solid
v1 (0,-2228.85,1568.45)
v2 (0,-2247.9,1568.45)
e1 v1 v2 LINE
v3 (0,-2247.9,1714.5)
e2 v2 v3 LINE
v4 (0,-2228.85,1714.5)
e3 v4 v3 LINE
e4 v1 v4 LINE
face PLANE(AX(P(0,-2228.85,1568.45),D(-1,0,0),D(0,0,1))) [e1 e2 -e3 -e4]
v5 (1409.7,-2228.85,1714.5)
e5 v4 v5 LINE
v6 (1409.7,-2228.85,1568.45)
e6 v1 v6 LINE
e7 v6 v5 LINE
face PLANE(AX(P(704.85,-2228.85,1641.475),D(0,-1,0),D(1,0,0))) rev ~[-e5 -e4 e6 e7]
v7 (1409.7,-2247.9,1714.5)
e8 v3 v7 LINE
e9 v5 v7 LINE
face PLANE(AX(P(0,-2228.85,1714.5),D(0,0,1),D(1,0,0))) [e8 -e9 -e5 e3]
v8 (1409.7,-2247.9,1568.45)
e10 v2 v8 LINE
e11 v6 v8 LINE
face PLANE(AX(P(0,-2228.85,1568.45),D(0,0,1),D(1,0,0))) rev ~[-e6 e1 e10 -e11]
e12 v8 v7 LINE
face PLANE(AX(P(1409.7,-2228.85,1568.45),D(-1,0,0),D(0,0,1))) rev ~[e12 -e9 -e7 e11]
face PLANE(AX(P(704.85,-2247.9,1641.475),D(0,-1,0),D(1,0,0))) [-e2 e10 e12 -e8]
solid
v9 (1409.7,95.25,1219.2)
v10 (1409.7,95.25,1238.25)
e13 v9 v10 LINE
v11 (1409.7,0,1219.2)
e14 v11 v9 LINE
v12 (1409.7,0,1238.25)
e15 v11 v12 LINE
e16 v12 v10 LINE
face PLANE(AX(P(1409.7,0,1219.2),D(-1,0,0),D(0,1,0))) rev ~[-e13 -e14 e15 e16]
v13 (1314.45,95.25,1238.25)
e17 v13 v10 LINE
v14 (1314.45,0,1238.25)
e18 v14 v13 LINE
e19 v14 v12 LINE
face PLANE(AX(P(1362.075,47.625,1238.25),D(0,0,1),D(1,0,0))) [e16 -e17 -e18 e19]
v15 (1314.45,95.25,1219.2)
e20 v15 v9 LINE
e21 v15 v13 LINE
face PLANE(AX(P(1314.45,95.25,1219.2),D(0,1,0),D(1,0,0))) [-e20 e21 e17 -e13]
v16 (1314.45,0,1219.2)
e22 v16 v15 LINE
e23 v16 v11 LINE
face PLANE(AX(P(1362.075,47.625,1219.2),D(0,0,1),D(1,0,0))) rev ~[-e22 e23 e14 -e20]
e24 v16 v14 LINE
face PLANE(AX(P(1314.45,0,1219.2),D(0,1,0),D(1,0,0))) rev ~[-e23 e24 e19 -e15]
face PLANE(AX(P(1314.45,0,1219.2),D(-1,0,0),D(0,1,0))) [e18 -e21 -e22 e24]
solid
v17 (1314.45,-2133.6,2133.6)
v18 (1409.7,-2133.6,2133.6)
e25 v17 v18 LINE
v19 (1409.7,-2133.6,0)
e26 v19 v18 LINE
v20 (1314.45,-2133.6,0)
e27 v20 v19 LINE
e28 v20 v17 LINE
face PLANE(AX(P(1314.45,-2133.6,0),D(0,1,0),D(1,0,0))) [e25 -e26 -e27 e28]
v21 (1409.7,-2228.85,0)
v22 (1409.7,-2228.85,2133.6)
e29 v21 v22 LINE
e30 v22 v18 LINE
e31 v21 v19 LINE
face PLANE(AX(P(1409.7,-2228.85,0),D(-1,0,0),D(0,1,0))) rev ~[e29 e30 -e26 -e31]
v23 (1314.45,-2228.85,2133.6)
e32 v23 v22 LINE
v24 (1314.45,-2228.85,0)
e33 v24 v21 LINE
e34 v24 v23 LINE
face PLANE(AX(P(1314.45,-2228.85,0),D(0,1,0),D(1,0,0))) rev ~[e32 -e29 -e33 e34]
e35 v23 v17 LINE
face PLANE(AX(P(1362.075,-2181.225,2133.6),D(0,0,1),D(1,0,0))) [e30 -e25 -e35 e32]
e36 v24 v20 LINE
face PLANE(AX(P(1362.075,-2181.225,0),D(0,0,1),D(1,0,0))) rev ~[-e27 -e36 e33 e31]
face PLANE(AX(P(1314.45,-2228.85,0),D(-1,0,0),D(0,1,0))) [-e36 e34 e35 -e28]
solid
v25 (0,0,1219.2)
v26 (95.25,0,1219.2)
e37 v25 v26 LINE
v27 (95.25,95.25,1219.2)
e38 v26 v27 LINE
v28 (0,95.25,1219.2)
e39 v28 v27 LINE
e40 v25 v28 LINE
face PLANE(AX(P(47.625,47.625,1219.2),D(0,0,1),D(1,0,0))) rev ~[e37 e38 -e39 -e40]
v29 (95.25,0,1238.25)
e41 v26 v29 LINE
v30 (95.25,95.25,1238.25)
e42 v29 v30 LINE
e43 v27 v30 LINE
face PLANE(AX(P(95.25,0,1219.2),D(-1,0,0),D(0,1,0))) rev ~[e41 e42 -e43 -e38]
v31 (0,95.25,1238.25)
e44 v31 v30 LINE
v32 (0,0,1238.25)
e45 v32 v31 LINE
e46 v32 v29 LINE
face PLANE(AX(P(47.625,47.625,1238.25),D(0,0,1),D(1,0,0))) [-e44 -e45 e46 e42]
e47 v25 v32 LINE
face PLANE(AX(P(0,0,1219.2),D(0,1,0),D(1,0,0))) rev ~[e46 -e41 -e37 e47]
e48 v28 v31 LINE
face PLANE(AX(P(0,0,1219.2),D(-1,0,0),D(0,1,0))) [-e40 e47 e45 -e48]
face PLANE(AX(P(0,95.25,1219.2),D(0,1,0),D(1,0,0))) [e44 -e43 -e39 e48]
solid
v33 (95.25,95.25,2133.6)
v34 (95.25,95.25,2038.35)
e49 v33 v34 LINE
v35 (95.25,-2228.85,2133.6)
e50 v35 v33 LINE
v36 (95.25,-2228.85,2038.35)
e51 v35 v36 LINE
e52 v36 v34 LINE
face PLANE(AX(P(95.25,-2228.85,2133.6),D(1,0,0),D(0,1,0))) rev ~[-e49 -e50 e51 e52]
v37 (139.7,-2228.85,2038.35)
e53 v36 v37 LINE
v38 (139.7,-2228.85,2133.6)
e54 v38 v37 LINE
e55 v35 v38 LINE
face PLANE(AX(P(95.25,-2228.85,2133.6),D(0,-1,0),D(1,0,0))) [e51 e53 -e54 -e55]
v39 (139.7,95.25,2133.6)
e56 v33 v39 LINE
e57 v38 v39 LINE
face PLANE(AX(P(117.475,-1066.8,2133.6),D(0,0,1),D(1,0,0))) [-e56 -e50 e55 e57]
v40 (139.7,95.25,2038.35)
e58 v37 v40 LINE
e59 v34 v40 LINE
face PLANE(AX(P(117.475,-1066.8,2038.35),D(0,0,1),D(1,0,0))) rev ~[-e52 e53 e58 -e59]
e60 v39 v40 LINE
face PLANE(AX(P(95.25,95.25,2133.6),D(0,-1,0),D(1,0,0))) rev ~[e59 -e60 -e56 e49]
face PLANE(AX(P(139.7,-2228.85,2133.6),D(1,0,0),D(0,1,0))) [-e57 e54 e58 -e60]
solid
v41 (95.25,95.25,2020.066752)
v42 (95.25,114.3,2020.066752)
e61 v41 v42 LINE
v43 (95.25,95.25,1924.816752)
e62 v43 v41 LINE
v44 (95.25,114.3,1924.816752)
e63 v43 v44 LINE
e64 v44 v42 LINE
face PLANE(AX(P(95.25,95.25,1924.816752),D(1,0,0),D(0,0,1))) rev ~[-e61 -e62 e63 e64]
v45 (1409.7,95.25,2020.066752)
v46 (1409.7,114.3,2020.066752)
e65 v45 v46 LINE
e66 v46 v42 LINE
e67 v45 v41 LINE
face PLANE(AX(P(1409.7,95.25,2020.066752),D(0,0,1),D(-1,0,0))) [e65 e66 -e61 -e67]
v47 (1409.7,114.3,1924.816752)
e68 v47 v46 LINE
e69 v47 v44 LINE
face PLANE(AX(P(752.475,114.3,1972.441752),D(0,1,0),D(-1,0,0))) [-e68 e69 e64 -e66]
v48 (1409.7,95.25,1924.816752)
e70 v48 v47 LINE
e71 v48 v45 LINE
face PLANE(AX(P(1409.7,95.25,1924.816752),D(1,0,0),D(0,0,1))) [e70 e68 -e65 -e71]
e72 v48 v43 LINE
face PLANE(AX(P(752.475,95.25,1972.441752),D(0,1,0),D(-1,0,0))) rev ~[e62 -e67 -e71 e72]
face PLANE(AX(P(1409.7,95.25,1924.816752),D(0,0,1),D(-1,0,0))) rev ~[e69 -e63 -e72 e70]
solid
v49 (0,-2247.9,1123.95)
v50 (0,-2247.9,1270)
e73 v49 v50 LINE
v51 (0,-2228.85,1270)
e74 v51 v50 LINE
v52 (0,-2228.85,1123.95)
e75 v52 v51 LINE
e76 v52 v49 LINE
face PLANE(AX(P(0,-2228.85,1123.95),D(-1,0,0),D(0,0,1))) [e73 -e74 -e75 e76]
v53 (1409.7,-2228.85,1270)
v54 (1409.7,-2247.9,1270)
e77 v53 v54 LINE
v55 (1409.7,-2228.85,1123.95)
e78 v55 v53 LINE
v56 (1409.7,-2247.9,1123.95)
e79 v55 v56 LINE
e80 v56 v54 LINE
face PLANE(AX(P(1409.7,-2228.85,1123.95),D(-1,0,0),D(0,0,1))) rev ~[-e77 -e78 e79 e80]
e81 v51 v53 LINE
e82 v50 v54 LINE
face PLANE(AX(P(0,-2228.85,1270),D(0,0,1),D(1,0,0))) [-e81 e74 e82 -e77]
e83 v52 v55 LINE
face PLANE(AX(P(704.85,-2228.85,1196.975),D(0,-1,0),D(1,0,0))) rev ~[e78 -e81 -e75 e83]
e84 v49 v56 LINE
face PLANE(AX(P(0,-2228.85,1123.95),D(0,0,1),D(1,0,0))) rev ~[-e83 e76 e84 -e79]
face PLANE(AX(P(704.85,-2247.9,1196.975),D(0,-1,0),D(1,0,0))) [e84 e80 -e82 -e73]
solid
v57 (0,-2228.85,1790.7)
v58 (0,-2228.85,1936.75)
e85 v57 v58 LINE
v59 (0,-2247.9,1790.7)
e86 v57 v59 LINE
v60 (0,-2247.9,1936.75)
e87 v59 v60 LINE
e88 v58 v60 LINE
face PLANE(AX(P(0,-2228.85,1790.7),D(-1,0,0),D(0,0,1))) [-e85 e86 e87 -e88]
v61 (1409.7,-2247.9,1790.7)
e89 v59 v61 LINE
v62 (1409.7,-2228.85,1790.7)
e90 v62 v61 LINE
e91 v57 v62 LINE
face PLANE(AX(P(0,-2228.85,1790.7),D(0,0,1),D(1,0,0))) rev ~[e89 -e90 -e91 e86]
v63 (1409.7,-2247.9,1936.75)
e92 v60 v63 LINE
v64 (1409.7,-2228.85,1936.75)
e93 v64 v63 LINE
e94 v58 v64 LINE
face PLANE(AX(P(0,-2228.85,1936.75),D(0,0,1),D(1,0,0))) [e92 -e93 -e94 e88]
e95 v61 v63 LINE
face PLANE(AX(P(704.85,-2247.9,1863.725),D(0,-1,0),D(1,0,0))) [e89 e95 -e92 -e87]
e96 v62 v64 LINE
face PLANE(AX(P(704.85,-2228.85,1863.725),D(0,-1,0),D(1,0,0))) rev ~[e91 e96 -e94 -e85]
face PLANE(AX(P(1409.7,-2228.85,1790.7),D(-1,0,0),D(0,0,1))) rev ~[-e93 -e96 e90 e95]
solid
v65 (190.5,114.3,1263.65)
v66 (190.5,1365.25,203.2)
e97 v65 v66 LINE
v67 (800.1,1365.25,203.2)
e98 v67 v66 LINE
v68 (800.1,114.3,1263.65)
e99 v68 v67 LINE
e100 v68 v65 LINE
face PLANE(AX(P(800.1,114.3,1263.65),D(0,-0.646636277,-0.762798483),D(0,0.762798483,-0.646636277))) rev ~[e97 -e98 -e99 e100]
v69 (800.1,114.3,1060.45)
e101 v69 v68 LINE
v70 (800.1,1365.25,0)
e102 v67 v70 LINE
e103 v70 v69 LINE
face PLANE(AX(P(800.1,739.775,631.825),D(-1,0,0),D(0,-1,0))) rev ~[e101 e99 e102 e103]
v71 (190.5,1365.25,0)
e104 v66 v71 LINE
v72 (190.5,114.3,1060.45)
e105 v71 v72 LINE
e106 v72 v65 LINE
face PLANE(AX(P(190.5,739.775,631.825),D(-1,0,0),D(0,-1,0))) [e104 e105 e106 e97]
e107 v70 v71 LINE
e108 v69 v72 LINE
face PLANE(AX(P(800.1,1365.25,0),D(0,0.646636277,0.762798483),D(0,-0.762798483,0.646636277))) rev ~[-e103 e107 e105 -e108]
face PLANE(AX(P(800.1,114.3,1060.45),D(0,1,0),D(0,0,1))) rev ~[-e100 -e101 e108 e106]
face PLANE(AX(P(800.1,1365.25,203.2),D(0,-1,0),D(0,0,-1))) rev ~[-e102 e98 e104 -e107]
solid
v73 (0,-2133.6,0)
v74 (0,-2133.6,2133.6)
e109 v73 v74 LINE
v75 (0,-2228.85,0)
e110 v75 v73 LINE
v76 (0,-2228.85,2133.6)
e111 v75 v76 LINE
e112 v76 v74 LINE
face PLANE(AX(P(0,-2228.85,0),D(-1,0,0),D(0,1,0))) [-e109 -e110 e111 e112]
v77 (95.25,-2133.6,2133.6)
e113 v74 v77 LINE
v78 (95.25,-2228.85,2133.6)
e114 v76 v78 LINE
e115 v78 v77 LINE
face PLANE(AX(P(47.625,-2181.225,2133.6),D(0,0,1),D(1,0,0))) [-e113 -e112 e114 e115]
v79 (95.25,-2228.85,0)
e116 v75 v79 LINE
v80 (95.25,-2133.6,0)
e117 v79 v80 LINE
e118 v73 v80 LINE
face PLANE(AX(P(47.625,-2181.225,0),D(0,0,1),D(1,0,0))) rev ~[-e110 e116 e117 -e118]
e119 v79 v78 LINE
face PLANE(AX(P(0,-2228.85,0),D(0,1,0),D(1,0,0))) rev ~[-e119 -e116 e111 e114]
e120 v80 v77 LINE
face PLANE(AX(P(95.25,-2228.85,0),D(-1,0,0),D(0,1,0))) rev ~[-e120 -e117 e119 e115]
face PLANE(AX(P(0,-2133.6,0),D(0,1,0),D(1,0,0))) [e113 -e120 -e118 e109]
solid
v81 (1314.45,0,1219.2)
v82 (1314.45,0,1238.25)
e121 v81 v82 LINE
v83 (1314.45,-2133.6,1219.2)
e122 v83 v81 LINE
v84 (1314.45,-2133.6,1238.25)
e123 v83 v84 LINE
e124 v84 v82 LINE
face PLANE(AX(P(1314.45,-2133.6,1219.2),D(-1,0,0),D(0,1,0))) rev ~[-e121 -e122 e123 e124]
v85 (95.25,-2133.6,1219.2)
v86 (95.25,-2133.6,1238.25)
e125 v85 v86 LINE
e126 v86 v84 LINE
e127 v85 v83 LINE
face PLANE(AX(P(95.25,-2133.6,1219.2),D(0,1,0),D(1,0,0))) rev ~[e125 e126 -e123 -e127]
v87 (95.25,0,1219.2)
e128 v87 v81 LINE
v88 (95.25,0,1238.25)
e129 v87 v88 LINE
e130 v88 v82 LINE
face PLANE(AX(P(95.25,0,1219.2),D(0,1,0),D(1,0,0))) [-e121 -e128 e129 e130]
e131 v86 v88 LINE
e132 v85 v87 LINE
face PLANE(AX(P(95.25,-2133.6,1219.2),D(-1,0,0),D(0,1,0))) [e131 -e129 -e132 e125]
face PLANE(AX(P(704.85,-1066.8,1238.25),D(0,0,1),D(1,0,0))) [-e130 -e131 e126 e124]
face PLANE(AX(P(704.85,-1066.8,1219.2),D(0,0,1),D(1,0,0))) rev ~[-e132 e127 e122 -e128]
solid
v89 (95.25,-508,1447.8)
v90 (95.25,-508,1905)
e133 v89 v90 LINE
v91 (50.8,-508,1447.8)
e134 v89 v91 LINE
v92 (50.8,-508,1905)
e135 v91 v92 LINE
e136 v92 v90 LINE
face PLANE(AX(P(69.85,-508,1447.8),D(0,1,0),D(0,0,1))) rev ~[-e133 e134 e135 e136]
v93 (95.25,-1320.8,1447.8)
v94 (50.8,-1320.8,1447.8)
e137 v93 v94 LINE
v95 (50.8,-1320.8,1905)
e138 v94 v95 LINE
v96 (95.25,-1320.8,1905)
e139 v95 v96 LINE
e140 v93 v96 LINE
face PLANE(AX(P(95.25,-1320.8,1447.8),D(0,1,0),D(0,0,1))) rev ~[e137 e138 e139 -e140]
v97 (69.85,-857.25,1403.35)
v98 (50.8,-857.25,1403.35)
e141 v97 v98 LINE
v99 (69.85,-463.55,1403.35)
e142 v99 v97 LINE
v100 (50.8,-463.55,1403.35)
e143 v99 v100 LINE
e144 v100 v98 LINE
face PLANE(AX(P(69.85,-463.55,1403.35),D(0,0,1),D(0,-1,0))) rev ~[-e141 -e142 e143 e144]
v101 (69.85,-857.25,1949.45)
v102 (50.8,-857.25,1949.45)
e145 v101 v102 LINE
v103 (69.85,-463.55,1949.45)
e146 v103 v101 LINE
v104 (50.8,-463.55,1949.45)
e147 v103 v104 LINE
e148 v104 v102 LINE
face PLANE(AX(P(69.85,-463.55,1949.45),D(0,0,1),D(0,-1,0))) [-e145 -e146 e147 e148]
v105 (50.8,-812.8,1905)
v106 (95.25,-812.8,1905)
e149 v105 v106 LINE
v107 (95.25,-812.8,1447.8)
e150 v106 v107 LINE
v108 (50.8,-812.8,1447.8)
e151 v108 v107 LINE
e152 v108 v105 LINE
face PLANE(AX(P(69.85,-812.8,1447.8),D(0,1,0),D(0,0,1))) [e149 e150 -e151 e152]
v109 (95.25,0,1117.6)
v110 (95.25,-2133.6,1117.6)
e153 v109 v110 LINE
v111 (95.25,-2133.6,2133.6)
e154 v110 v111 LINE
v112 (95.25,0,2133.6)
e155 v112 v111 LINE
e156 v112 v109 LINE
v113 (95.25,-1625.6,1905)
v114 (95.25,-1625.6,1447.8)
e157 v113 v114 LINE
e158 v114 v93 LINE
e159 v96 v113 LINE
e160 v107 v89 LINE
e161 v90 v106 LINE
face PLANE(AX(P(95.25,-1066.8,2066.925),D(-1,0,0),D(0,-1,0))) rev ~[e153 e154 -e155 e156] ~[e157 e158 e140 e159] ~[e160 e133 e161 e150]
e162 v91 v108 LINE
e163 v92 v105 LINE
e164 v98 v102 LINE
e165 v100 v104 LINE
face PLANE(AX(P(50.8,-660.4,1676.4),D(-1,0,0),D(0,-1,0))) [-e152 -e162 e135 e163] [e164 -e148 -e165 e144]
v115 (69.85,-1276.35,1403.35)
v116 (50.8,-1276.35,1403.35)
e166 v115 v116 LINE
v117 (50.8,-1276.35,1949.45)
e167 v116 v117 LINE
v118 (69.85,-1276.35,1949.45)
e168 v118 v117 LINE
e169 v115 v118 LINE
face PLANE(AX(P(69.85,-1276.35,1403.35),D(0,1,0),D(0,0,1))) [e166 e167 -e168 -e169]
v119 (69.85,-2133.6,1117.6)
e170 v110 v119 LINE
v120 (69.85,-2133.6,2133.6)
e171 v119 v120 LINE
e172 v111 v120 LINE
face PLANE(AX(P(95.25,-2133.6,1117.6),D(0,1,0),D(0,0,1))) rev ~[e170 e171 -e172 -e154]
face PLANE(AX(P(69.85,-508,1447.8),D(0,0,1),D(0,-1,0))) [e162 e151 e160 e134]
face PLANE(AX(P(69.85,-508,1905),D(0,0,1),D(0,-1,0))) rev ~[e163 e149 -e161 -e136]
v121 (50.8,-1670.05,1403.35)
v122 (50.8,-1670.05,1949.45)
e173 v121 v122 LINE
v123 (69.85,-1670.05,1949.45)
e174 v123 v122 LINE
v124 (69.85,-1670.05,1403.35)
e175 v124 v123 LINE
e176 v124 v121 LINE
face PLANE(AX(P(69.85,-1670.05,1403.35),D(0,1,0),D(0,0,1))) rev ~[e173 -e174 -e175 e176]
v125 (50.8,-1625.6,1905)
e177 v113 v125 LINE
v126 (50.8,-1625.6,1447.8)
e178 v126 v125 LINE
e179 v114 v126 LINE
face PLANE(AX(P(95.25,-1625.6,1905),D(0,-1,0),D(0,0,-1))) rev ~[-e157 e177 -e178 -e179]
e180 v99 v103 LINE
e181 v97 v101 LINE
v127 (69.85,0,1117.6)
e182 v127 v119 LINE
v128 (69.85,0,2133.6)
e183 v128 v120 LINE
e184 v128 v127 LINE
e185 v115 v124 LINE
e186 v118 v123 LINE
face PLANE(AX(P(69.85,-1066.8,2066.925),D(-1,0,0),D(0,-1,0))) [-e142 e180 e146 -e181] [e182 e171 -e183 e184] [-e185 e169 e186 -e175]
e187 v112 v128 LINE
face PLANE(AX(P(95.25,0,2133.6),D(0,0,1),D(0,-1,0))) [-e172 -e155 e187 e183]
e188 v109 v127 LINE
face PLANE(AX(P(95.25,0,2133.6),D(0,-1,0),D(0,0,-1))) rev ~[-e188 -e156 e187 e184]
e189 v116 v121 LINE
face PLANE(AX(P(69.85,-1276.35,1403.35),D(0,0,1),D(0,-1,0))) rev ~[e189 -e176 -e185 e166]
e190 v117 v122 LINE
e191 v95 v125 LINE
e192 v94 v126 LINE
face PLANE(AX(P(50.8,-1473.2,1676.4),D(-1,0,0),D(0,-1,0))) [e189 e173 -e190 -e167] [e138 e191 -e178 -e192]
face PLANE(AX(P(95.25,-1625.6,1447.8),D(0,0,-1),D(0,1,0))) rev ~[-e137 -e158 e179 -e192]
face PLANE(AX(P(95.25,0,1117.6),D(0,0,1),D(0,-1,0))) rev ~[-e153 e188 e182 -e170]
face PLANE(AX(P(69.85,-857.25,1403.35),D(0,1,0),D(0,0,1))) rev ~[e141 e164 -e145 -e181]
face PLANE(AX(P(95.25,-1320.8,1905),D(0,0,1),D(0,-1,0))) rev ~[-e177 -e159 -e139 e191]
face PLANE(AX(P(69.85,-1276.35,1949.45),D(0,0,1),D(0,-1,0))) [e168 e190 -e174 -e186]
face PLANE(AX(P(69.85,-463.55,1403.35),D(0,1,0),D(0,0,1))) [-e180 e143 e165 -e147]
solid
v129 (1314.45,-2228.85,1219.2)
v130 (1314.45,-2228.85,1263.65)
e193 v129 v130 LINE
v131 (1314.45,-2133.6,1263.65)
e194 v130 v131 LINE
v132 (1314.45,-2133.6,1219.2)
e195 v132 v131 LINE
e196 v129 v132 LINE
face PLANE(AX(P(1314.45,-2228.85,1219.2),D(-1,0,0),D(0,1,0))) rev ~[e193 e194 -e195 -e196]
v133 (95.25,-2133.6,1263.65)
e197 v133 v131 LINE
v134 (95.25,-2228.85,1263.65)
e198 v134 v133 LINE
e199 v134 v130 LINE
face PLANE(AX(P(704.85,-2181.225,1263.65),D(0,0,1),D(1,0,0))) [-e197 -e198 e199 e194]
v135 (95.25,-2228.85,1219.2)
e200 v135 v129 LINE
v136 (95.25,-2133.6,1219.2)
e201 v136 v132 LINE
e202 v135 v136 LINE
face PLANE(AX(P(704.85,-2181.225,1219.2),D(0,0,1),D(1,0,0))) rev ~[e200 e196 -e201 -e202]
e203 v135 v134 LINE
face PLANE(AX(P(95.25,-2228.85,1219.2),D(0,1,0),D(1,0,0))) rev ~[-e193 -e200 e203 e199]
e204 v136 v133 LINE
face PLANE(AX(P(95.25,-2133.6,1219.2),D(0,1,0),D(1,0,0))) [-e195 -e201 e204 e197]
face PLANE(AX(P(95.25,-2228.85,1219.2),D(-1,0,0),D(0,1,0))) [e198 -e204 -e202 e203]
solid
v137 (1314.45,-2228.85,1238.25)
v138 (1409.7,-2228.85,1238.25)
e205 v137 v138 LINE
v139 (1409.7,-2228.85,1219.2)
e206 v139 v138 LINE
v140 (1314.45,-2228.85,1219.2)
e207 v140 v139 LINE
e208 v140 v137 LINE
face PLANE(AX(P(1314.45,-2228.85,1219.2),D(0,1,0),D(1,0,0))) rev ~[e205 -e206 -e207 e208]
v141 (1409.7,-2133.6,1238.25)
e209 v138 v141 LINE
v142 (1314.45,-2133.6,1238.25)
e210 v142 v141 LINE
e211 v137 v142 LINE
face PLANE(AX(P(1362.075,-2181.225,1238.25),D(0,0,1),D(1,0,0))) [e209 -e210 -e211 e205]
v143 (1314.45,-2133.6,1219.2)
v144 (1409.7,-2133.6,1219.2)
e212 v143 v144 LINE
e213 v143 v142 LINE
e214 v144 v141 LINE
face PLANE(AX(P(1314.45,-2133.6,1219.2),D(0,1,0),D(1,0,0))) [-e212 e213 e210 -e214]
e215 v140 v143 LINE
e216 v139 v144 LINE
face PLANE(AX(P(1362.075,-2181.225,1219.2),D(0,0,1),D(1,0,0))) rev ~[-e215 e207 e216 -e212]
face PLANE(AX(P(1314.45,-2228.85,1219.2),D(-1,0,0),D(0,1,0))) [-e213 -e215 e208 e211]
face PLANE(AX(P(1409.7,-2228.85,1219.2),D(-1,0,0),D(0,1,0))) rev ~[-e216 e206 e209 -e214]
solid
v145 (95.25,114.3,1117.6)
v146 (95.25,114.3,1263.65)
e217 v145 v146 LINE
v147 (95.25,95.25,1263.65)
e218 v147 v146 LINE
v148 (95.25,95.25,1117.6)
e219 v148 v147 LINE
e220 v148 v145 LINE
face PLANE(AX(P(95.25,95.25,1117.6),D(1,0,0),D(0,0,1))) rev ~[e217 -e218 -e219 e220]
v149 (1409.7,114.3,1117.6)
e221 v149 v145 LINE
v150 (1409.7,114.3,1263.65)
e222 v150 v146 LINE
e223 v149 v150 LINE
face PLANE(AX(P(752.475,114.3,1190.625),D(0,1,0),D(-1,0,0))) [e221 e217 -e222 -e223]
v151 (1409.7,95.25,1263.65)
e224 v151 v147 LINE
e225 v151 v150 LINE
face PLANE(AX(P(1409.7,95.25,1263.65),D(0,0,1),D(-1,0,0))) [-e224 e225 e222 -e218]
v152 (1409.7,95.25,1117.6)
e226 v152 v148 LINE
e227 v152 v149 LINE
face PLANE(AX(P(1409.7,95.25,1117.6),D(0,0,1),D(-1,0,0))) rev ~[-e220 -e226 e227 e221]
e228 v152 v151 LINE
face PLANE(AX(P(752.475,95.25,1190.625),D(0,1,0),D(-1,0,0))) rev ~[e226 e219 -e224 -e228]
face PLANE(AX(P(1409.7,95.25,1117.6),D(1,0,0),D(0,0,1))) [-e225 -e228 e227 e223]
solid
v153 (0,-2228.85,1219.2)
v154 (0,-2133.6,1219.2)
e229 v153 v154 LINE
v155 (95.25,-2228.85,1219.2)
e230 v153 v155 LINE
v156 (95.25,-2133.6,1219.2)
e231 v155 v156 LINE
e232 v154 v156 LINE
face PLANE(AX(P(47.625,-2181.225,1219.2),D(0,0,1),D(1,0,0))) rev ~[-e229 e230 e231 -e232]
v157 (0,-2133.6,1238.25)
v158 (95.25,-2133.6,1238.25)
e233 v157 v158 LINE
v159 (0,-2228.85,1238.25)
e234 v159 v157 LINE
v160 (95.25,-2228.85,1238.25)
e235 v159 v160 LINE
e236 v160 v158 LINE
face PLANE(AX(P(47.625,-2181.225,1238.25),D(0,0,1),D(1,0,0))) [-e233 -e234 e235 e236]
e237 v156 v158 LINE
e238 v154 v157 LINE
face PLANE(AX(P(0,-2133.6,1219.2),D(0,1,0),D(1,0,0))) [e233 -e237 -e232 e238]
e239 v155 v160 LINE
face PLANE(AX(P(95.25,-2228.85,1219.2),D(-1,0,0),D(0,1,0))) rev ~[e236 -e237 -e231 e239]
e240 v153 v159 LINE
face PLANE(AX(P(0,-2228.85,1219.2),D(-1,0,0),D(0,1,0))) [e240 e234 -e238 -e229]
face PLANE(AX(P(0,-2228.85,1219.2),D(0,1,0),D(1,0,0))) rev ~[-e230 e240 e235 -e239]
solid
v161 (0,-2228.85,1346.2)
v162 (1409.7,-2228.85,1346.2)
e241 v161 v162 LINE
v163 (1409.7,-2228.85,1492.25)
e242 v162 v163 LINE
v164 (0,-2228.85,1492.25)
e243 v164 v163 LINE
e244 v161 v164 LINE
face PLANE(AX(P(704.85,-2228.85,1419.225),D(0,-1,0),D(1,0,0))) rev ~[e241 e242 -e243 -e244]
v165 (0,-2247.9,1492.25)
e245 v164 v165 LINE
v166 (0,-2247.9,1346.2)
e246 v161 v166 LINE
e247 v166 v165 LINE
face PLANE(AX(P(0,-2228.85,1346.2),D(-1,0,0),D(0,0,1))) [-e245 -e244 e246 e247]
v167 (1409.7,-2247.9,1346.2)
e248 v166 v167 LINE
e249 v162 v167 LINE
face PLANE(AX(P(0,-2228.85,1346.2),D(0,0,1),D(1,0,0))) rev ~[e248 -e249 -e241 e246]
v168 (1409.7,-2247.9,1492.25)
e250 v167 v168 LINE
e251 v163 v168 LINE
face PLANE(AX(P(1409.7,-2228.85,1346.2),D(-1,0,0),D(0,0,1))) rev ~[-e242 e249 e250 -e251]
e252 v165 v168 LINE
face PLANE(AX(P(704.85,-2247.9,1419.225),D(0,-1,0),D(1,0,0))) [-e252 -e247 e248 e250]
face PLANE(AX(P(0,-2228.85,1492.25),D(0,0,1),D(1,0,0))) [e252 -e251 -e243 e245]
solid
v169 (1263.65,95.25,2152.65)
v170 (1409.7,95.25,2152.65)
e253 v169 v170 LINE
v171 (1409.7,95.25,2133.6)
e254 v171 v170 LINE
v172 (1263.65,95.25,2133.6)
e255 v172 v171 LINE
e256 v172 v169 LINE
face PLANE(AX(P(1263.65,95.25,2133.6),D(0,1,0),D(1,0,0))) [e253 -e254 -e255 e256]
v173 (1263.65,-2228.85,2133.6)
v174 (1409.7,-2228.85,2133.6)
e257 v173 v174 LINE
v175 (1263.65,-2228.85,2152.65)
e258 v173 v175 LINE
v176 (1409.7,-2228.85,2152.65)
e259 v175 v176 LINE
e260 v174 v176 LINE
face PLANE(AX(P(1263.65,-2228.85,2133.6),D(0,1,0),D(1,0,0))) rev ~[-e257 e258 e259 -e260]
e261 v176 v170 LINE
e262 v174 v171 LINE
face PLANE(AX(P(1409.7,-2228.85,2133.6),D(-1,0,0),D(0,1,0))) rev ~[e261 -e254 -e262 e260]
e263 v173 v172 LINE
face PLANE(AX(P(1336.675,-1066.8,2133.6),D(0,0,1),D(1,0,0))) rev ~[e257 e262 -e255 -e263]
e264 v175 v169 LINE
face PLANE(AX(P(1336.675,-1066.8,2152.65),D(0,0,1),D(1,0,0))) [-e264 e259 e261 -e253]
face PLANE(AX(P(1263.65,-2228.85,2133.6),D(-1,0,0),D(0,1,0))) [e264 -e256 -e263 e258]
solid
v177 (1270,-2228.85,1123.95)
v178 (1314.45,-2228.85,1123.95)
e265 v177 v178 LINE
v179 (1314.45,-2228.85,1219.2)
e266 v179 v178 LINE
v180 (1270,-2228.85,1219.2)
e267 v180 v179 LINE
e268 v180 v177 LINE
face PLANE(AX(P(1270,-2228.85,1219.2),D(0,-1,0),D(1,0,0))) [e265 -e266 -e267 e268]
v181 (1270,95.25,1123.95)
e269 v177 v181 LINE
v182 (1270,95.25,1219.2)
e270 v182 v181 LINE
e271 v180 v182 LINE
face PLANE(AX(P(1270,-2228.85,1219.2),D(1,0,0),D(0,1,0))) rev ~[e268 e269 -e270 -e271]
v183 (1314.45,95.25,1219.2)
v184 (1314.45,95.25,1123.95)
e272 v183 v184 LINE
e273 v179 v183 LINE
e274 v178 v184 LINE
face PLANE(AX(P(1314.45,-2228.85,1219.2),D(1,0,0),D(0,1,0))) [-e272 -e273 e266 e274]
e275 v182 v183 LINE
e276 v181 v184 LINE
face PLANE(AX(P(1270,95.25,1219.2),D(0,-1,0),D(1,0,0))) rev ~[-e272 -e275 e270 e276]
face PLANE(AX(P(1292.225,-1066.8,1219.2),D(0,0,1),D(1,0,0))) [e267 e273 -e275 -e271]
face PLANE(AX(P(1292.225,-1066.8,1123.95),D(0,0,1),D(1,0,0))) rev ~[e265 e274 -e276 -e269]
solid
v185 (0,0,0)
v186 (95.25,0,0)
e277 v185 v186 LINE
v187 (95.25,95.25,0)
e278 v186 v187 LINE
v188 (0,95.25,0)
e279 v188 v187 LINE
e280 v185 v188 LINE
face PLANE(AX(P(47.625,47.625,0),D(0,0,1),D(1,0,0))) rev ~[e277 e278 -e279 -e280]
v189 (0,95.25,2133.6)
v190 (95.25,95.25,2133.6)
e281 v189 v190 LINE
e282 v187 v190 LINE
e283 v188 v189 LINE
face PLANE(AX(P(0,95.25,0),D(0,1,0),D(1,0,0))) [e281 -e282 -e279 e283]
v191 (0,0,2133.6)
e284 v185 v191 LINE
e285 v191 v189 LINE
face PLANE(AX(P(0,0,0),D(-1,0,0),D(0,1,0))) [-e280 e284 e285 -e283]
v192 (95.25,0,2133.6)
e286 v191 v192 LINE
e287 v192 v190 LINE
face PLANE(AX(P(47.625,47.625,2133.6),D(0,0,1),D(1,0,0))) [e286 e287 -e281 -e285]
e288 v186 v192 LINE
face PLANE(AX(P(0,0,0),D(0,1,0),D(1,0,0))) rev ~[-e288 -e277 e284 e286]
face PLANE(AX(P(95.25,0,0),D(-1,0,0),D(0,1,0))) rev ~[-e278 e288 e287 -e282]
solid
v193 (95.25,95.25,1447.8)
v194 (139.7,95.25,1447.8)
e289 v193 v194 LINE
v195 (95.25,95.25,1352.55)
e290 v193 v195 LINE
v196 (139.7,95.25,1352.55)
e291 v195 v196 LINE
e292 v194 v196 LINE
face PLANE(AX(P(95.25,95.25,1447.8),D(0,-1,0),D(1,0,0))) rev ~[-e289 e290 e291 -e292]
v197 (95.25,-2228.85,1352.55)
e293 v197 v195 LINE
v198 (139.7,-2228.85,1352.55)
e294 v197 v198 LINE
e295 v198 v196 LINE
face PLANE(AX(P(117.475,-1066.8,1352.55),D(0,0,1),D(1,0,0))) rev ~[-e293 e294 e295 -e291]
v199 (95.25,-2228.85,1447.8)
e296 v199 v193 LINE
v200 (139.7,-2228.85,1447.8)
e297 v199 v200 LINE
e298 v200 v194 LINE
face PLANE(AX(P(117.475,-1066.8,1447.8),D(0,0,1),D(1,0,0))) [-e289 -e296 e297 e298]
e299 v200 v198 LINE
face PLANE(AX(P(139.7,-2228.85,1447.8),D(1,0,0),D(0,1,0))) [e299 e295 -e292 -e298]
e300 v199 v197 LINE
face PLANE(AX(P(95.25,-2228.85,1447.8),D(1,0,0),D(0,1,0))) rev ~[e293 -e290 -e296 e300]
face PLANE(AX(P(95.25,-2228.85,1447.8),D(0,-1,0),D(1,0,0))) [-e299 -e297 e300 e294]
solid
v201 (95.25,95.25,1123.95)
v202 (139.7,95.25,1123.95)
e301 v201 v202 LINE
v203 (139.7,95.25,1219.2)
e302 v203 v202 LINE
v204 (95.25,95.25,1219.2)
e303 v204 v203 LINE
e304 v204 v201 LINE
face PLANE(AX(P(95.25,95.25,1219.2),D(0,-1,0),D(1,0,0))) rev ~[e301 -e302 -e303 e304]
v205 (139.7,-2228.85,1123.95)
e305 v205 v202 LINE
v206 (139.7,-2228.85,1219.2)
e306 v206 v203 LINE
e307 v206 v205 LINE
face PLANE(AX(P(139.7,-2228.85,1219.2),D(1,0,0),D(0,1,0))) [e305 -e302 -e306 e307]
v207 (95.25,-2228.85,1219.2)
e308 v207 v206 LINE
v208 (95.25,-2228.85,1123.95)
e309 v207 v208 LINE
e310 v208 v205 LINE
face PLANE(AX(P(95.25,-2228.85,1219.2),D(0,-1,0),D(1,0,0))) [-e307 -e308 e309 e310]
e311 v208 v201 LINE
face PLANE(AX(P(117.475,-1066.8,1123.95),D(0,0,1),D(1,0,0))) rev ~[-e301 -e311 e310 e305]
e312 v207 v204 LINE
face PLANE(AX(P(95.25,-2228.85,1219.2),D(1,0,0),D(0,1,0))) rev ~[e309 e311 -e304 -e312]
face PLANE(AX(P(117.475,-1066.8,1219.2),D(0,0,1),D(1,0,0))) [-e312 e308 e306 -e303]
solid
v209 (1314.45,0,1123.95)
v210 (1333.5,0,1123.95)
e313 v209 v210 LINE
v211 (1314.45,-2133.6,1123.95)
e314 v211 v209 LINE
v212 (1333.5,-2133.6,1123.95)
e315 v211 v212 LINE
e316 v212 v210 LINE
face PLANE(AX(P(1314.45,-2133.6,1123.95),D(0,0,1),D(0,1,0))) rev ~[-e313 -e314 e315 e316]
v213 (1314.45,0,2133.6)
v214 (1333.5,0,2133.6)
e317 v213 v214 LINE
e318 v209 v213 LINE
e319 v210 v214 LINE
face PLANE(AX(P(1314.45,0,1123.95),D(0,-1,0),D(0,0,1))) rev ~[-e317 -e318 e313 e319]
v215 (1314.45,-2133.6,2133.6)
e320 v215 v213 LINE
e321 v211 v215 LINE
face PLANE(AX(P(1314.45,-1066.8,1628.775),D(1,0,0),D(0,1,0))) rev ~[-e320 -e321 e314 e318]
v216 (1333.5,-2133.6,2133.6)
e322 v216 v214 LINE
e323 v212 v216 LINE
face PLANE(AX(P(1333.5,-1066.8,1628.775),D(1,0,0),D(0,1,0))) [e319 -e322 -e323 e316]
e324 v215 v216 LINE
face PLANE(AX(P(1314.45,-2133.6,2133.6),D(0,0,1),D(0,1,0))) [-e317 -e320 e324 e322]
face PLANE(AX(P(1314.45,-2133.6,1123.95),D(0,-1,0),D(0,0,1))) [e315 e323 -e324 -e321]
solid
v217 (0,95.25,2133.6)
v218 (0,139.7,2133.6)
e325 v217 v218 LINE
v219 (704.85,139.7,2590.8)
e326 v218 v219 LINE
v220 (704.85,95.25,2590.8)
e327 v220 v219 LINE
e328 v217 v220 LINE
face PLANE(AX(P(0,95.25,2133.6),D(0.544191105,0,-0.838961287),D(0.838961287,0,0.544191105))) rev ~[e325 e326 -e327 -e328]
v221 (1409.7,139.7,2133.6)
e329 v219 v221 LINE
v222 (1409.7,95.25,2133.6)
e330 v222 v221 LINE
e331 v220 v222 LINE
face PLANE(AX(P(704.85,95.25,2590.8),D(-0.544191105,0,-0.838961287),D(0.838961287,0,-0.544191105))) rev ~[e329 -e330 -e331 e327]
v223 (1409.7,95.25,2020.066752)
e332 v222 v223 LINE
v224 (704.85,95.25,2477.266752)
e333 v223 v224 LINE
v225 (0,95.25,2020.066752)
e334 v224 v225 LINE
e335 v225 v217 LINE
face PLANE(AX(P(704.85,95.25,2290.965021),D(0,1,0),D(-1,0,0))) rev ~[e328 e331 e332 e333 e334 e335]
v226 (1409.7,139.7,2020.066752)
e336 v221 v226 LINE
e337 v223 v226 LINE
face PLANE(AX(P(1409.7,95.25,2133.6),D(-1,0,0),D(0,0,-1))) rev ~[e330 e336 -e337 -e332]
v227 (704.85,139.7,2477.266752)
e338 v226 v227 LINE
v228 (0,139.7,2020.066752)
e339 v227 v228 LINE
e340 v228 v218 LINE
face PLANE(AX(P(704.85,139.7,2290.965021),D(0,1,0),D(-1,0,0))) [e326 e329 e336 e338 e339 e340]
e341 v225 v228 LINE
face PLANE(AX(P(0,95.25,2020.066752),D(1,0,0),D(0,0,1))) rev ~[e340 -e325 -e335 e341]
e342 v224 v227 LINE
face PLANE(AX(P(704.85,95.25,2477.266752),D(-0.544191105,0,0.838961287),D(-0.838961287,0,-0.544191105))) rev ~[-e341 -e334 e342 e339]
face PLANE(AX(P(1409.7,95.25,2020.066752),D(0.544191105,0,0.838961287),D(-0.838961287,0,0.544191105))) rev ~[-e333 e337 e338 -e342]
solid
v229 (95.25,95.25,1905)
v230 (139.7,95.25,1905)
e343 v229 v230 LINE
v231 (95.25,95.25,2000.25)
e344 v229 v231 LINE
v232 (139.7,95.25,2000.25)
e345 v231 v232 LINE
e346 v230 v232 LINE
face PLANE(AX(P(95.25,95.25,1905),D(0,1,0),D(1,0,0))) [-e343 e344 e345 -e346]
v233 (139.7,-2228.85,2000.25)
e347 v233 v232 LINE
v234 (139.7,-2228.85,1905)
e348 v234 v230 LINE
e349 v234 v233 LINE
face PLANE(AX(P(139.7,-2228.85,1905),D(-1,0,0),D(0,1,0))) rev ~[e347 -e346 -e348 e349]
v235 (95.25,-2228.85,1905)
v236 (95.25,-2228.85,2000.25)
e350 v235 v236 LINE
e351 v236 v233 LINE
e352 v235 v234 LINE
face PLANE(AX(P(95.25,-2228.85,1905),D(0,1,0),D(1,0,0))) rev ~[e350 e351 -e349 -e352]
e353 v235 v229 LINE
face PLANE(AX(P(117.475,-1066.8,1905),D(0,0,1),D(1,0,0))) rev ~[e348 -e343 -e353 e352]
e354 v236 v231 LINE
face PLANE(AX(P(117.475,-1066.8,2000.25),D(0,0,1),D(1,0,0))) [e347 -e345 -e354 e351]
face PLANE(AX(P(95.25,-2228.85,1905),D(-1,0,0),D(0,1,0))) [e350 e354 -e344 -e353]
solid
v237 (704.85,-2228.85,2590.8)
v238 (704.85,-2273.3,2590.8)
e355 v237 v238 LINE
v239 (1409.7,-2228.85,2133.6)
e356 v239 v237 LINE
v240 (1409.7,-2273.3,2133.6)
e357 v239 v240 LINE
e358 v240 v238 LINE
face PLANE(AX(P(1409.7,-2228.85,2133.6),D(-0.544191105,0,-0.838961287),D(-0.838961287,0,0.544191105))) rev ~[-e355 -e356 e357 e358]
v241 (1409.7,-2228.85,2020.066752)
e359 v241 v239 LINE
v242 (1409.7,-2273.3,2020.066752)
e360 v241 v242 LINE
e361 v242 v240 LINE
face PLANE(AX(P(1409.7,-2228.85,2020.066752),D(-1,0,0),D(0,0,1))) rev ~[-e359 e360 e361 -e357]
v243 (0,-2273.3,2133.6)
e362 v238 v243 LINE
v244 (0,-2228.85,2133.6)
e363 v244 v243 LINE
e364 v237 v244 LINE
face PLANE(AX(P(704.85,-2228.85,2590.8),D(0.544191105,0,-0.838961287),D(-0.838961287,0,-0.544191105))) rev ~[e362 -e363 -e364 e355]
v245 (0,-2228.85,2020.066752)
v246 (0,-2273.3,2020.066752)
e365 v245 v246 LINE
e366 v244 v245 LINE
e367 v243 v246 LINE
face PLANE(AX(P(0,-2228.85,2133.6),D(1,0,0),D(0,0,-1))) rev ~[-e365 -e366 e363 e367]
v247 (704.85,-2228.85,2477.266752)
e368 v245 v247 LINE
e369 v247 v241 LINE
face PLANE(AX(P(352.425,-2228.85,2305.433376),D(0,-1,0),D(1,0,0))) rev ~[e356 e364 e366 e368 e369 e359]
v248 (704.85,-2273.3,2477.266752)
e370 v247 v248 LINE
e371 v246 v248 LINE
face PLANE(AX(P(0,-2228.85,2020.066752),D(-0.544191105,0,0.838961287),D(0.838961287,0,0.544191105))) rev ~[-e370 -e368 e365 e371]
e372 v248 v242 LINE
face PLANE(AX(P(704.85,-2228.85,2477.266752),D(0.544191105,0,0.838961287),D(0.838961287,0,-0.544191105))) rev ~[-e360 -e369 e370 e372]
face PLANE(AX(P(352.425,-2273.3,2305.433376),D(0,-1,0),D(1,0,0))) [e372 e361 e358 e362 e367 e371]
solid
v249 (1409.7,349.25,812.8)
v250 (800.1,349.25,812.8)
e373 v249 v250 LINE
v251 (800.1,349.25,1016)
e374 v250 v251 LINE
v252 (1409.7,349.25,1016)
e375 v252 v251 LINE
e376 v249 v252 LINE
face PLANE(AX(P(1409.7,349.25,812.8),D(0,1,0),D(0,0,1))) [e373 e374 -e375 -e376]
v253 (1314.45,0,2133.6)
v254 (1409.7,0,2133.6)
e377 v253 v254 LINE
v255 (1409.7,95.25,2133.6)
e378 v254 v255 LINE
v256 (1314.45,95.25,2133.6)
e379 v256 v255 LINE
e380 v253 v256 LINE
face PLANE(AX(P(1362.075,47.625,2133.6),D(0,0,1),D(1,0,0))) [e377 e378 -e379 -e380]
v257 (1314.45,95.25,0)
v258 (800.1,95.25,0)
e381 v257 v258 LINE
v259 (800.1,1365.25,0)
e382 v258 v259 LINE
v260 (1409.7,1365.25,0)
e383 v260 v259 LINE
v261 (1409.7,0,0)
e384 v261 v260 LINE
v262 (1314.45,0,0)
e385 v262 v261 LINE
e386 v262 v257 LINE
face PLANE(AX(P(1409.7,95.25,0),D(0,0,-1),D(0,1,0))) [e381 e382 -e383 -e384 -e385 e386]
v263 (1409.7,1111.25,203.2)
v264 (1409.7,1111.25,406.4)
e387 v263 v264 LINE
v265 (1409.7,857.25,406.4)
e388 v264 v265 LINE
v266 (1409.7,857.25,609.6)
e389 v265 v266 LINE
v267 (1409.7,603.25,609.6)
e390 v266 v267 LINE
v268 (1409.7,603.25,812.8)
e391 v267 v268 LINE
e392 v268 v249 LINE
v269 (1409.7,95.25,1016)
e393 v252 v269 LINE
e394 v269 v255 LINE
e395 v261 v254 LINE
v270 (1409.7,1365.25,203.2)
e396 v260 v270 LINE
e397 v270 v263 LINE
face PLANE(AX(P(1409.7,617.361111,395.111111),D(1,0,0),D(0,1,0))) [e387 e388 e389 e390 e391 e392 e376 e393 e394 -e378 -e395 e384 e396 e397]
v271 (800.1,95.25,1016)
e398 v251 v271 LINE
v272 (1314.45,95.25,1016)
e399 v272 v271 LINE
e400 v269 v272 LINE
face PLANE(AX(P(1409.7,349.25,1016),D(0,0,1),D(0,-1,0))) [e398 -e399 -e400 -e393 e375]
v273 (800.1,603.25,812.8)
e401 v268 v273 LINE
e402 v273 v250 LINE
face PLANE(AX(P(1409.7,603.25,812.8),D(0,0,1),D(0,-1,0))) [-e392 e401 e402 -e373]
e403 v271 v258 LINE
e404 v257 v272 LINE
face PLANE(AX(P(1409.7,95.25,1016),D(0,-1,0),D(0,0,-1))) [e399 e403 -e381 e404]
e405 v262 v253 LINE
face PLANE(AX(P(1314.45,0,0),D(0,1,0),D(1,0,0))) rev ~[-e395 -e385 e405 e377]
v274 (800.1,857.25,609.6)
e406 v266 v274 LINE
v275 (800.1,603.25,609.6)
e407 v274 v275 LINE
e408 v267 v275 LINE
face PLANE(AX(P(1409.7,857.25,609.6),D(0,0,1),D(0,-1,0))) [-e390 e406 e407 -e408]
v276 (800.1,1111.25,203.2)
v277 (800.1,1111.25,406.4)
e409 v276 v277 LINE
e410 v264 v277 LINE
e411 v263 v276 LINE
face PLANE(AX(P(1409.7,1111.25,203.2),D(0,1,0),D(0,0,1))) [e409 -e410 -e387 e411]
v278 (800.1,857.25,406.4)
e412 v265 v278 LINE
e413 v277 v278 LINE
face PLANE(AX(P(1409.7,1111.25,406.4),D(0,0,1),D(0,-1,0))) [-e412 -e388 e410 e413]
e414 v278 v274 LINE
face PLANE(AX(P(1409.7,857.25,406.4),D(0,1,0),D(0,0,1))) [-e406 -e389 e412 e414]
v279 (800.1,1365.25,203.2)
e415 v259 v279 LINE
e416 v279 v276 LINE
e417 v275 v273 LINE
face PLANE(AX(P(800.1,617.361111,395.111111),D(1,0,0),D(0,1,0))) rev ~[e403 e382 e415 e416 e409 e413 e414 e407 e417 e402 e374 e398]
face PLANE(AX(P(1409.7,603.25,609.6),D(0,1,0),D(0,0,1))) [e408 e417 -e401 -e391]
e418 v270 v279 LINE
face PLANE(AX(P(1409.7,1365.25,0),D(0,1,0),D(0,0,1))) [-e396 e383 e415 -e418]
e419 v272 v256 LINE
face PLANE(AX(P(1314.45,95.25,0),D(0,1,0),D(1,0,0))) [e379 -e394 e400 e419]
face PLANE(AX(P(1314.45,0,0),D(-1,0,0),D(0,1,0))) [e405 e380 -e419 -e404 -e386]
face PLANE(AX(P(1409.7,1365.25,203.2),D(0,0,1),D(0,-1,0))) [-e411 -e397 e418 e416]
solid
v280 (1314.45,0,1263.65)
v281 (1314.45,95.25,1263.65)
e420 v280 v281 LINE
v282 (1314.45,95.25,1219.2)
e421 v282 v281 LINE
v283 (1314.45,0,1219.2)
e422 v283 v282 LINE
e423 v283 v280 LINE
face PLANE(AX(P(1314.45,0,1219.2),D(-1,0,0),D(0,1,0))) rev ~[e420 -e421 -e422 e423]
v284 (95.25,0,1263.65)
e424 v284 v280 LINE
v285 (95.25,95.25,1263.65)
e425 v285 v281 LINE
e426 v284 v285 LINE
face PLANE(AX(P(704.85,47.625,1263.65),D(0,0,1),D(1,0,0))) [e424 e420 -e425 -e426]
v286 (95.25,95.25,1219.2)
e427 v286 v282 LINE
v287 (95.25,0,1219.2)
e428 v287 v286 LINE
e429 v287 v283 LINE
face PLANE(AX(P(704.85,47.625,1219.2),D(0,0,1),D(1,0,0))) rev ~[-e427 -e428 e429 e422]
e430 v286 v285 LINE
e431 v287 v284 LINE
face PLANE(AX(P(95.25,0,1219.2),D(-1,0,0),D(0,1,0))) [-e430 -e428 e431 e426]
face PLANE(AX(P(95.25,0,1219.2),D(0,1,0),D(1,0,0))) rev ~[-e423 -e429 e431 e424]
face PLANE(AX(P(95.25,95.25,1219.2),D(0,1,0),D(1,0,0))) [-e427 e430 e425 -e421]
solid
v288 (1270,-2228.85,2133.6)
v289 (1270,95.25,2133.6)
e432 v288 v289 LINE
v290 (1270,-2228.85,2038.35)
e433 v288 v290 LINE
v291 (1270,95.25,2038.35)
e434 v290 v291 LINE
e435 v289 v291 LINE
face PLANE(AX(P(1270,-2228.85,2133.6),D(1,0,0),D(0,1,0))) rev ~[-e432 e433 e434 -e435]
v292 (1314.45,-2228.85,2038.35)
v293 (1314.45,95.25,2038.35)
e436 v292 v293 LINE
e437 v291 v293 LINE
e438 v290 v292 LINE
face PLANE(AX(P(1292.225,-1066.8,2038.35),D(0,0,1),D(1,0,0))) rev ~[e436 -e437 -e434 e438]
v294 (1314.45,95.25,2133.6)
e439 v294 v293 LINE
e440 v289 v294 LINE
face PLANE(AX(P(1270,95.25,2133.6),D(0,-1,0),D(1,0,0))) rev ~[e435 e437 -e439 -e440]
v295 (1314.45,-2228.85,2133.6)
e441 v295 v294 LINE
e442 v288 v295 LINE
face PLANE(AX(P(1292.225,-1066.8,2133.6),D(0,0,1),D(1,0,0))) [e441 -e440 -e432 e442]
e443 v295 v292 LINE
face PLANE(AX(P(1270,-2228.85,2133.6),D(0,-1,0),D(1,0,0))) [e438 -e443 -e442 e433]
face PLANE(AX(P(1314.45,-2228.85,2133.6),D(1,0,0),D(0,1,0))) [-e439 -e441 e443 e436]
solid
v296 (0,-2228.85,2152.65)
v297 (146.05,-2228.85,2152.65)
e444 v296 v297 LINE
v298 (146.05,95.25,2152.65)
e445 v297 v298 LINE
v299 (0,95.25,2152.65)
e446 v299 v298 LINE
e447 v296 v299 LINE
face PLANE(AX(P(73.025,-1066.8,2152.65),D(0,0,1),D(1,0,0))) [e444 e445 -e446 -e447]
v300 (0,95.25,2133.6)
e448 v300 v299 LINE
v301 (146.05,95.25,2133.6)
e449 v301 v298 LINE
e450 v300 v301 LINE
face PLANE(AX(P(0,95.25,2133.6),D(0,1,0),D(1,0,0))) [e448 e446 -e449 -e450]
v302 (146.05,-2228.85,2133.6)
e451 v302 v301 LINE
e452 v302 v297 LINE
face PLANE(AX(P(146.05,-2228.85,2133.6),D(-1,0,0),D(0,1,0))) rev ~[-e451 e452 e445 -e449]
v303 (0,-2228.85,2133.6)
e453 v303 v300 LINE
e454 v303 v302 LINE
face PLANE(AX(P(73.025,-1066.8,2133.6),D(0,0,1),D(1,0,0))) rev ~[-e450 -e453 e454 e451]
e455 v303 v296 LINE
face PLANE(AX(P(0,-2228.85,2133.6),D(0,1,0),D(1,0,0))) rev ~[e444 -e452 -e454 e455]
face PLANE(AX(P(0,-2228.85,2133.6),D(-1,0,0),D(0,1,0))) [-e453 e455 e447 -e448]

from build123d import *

# Parameters (mm, degrees)
F0_W      = 95.25
F0_H      = 95.25
F1_DEPTH  = 2133.6
F3_W      = 95.25
F3_H      = 95.25
F4_DEPTH  = 19.05
F3_W_2    = 1219.2
F3_H_2    = 2133.6
F5_W      = 44.45
F5_H      = 2324.1
F6_DEPTH  = 95.25
F8_W      = 44.45
F8_H      = 2324.1
F9_DEPTH  = 95.25
F11_W     = 44.45
F11_H     = 2324.1
F12_DEPTH = 95.25
F13_W     = 2133.6
F13_H     = 133.35
F14_DEPTH = 25.4
F15_W     = 1219.2
F15_H     = 95.25
F16_DEPTH = 44.45
F17_W     = 44.45
F17_H     = 2324.1
F18_DEPTH = 95.25
F20_DEPTH = 44.45
F22_DEPTH = 44.45
F23_W     = 1409.7
F23_H     = 146.05
F24_DEPTH = 19.05
F25_W     = 2133.6
F25_H     = 1009.65
F26_DEPTH = 19.05
F27_W     = 1314.45
F27_H     = 95.25
F28_DEPTH = 19.05
F27_H_2   = 146.05
F29_W     = 146.05
F29_H     = 2324.1
F30_DEPTH = 19.05
F32_DEPTH = 609.6
F34_DEPTH = 609.6
F35_W     = 393.7
F35_H     = 546.1
F35_W_2   = 304.8
F35_H_2   = 457.2
F36_DEPTH = 19.05


with BuildPart() as f1:
    # F0 (on Top) → F1 (new body)
    with BuildSketch(Plane.XY):
        with Locations((47.625, 47.625)):
            Rectangle(F0_W, F0_H)
    extrude(amount=F1_DEPTH)


with BuildPart() as f1b:
    # F0 (on Top) → F1, piece 2 (new body)
    with BuildSketch(Plane.XY):
        with Locations((1362.075, 47.625)):
            Rectangle(F0_W, F0_H)
    extrude(amount=F1_DEPTH)

    # F31 (on face) → F32 (join)
    with BuildSketch(Plane.YZ.offset(1409.7)):
        Polygon((349.25, 1016), (95.25, 1016), (95.25, 0), (1365.25, 0), (1365.25, 203.2), (1111.25, 203.2), (1111.25, 406.4), (857.25, 406.4), (857.25, 609.6), (603.25, 609.6), (603.25, 812.8), (349.25, 812.8), align=None)
    extrude(amount=-F32_DEPTH)


with BuildPart() as f1c:
    # F0 (on Top) → F1, piece 3 (new body)
    with BuildSketch(Plane.XY):
        with Locations((1362.075, -2181.225)):
            Rectangle(F0_W, F0_H)
    extrude(amount=F1_DEPTH)


with BuildPart() as f1d:
    # F0 (on Top) → F1, piece 4 (new body)
    with BuildSketch(Plane.XY):
        with Locations((47.625, -2181.225)):
            Rectangle(F0_W, F0_H)
    extrude(amount=F1_DEPTH)


with BuildPart() as f4:
    # F3 (on offset) → F4 (new body)
    with BuildSketch(Plane.XY.offset(1219.2)):
        with Locations((47.625, -2181.225)):
            Rectangle(F3_W, F3_H)
    extrude(amount=F4_DEPTH)


with BuildPart() as f4b:
    # F3 (on offset) → F4, piece 2 (new body)
    with BuildSketch(Plane.XY.offset(1219.2)):
        with Locations((47.625, 47.625)):
            Rectangle(F3_W, F3_H)
    extrude(amount=F4_DEPTH)


with BuildPart() as f4c:
    # F3 (on offset) → F4, piece 3 (new body)
    with BuildSketch(Plane.XY.offset(1219.2)):
        with Locations((1362.075, 47.625)):
            Rectangle(F3_W, F3_H)
    extrude(amount=F4_DEPTH)


with BuildPart() as f4d:
    # F3 (on offset) → F4, piece 4 (new body)
    with BuildSketch(Plane.XY.offset(1219.2)):
        with Locations((1362.075, -2181.225)):
            Rectangle(F3_W, F3_H)
    extrude(amount=F4_DEPTH)


with BuildPart() as f4e:
    # F3 (on offset) → F4, piece 5 (new body)
    with BuildSketch(Plane.XY.offset(1219.2)):
        with Locations((704.85, -1066.8)):
            Rectangle(F3_W_2, F3_H_2)
    extrude(amount=F4_DEPTH)


with BuildPart() as f6:
    # F5 (on offset) → F6 (new body)
    with BuildSketch(Plane.XY.offset(1219.2)):
        with Locations((117.475, -1066.8)):
            Rectangle(F5_W, F5_H)
    extrude(amount=-F6_DEPTH)


with BuildPart() as f6b:
    # F5 (on offset) → F6, piece 2 (new body)
    with BuildSketch(Plane.XY.offset(1219.2)):
        with Locations((1292.225, -1066.8)):
            Rectangle(F5_W, F5_H)
    extrude(amount=-F6_DEPTH)


with BuildPart() as f9:
    # F8 (on offset) → F9 (new body)
    with BuildSketch(Plane.XY.offset(1447.8)):
        with Locations((117.475, -1066.8)):
            Rectangle(F8_W, F8_H)
    extrude(amount=-F9_DEPTH)


with BuildPart() as f12:
    # F11 (on offset) → F12 (new body)
    with BuildSketch(Plane.XY.offset(1905)):
        with Locations((117.475, -1066.8)):
            Rectangle(F11_W, F11_H)
    extrude(amount=F12_DEPTH)


with BuildPart() as f14:
    # F13 (on face) → F14 (new body)
    with BuildSketch(Plane(origin=(95.25, 0, 0), x_dir=(0, -1, 0), z_dir=(-1, 0, 0))):
        with Locations((1066.8, 2066.925)):
            Rectangle(F13_W, F13_H)
        Polygon((2133.6, 2000.25), (0, 2000.25), (0, 1905), (508, 1905), (812.8, 1905), (1320.8, 1905), (1625.6, 1905), (2133.6, 1905), align=None)
        Polygon((508, 1905), (0, 1905), (0, 1117.6), (2133.6, 1117.6), (2133.6, 1905), (1625.6, 1905), (1625.6, 1447.8), (1320.8, 1447.8), (1320.8, 1905), (812.8, 1905), (812.8, 1447.8), (508, 1447.8), align=None)
    extrude(amount=F14_DEPTH)

    # F35 (on face) → F36 (join)
    with BuildSketch(Plane(origin=(69.85, 0, 0), x_dir=(0, -1, 0), z_dir=(-1, 0, 0))):
        with Locations((660.4, 1676.4)):
            Rectangle(F35_W, F35_H)
        with Locations((660.4, 1676.4)):
            Rectangle(F35_W_2, F35_H_2, mode=Mode.SUBTRACT)
        with Locations((1473.2, 1676.4)):
            Rectangle(F35_W, F35_H)
        with Locations((1473.2, 1676.4)):
            Rectangle(F35_W_2, F35_H_2, mode=Mode.SUBTRACT)
    extrude(amount=F36_DEPTH)


with BuildPart() as f16:
    # F15 (on offset) → F16 (new body)
    with BuildSketch(Plane.XY.offset(1219.2)):
        with Locations((704.85, 47.625)):
            Rectangle(F15_W, F15_H)
    extrude(amount=F16_DEPTH)


with BuildPart() as f16b:
    # F15 (on offset) → F16, piece 2 (new body)
    with BuildSketch(Plane.XY.offset(1219.2)):
        with Locations((704.85, -2181.225)):
            Rectangle(F15_W, F15_H)
    extrude(amount=F16_DEPTH)


with BuildPart() as f18:
    # F17 (on face) → F18 (new body)
    with BuildSketch(Plane.XY.offset(2133.6)):
        with Locations((117.475, -1066.8)):
            Rectangle(F17_W, F17_H)
    extrude(amount=-F18_DEPTH)


with BuildPart() as f18b:
    # F17 (on face) → F18, piece 2 (new body)
    with BuildSketch(Plane.XY.offset(2133.6)):
        with Locations((1292.225, -1066.8)):
            Rectangle(F17_W, F17_H)
    extrude(amount=-F18_DEPTH)


with BuildPart() as f20:
    # F19 (on face) → F20 (new body)
    with BuildSketch(Plane.XZ.offset(2228.85)):
        Polygon((704.85, 2590.8), (0, 2133.6), (0, 2020.0667518361), (704.85, 2477.2667518361), align=None)
        Polygon((1409.7, 2133.6), (704.85, 2590.8), (704.85, 2477.2667518361), (1409.7, 2020.0667518361), align=None)
    extrude(amount=F20_DEPTH)


with BuildPart() as f22:
    # F21 (on face) → F22 (new body)
    with BuildSketch(Plane(origin=(0, 95.25, 0), x_dir=(-1, 0, 0), z_dir=(0, 1, 0))):
        Polygon((0, 2133.6), (-704.85, 2590.8), (-1409.7, 2133.6), (-1409.7, 2020.0667518361), (-704.85, 2477.2667518361), (0, 2020.0667518361), align=None)
    extrude(amount=F22_DEPTH)


with BuildPart() as f24:
    # F23 (on face) → F24 (new body)
    with BuildSketch(Plane.XZ.offset(2228.85)):
        with Locations((704.85, 1196.975)):
            Rectangle(F23_W, F23_H)
    extrude(amount=F24_DEPTH)


with BuildPart() as f24b:
    # F23 (on face) → F24, piece 2 (new body)
    with BuildSketch(Plane.XZ.offset(2228.85)):
        with Locations((704.85, 1419.225)):
            Rectangle(F23_W, F23_H)
    extrude(amount=F24_DEPTH)


with BuildPart() as f24c:
    # F23 (on face) → F24, piece 3 (new body)
    with BuildSketch(Plane.XZ.offset(2228.85)):
        with Locations((704.85, 1641.475)):
            Rectangle(F23_W, F23_H)
    extrude(amount=F24_DEPTH)


with BuildPart() as f24d:
    # F23 (on face) → F24, piece 4 (new body)
    with BuildSketch(Plane.XZ.offset(2228.85)):
        with Locations((704.85, 1863.725)):
            Rectangle(F23_W, F23_H)
    extrude(amount=F24_DEPTH)


with BuildPart() as f26:
    # F25 (on face) → F26 (new body)
    with BuildSketch(Plane.YZ.offset(1314.45)):
        with Locations((-1066.8, 1628.775)):
            Rectangle(F25_W, F25_H)
    extrude(amount=F26_DEPTH)


with BuildPart() as f28:
    # F27 (on face) → F28 (new body)
    with BuildSketch(Plane(origin=(0, 95.25, 0), x_dir=(-1, 0, 0), z_dir=(0, 1, 0))):
        with Locations((-752.475, 1972.4417518361)):
            Rectangle(F27_W, F27_H)
    extrude(amount=F28_DEPTH)


with BuildPart() as f28b:
    # F27 (on face) → F28, piece 2 (new body)
    with BuildSketch(Plane(origin=(0, 95.25, 0), x_dir=(-1, 0, 0), z_dir=(0, 1, 0))):
        with Locations((-752.475, 1190.625)):
            Rectangle(F27_W, F27_H_2)
    extrude(amount=F28_DEPTH)


with BuildPart() as f30:
    # F29 (on face) → F30 (new body)
    with BuildSketch(Plane.XY.offset(2133.6)):
        with Locations((1336.675, -1066.8)):
            Rectangle(F29_W, F29_H)
    extrude(amount=F30_DEPTH)


with BuildPart() as f30b:
    # F29 (on face) → F30, piece 2 (new body)
    with BuildSketch(Plane.XY.offset(2133.6)):
        with Locations((73.025, -1066.8)):
            Rectangle(F29_W, F29_H)
    extrude(amount=F30_DEPTH)


with BuildPart() as f34:
    # F33 (on face) → F34 (new body)
    with BuildSketch(Plane(origin=(800.1, 0, 0), x_dir=(0, -1, 0), z_dir=(-1, 0, 0))):
        Polygon((-114.3, 1263.65), (-1365.25, 203.2), (-1365.25, 0), (-114.3, 1060.45), align=None)
    extrude(amount=F34_DEPTH)


solid = Compound([f1.part, f1b.part, f1c.part, f1d.part, f4.part, f4b.part, f4c.part, f4d.part, f4e.part, f6.part, f6b.part, f9.part, f12.part, f14.part, f16.part, f16b.part, f18.part, f18b.part, f20.part, f22.part, f24.part, f24b.part, f24c.part, f24d.part, f26.part, f28.part, f28b.part, f30.part, f30b.part, f34.part])
